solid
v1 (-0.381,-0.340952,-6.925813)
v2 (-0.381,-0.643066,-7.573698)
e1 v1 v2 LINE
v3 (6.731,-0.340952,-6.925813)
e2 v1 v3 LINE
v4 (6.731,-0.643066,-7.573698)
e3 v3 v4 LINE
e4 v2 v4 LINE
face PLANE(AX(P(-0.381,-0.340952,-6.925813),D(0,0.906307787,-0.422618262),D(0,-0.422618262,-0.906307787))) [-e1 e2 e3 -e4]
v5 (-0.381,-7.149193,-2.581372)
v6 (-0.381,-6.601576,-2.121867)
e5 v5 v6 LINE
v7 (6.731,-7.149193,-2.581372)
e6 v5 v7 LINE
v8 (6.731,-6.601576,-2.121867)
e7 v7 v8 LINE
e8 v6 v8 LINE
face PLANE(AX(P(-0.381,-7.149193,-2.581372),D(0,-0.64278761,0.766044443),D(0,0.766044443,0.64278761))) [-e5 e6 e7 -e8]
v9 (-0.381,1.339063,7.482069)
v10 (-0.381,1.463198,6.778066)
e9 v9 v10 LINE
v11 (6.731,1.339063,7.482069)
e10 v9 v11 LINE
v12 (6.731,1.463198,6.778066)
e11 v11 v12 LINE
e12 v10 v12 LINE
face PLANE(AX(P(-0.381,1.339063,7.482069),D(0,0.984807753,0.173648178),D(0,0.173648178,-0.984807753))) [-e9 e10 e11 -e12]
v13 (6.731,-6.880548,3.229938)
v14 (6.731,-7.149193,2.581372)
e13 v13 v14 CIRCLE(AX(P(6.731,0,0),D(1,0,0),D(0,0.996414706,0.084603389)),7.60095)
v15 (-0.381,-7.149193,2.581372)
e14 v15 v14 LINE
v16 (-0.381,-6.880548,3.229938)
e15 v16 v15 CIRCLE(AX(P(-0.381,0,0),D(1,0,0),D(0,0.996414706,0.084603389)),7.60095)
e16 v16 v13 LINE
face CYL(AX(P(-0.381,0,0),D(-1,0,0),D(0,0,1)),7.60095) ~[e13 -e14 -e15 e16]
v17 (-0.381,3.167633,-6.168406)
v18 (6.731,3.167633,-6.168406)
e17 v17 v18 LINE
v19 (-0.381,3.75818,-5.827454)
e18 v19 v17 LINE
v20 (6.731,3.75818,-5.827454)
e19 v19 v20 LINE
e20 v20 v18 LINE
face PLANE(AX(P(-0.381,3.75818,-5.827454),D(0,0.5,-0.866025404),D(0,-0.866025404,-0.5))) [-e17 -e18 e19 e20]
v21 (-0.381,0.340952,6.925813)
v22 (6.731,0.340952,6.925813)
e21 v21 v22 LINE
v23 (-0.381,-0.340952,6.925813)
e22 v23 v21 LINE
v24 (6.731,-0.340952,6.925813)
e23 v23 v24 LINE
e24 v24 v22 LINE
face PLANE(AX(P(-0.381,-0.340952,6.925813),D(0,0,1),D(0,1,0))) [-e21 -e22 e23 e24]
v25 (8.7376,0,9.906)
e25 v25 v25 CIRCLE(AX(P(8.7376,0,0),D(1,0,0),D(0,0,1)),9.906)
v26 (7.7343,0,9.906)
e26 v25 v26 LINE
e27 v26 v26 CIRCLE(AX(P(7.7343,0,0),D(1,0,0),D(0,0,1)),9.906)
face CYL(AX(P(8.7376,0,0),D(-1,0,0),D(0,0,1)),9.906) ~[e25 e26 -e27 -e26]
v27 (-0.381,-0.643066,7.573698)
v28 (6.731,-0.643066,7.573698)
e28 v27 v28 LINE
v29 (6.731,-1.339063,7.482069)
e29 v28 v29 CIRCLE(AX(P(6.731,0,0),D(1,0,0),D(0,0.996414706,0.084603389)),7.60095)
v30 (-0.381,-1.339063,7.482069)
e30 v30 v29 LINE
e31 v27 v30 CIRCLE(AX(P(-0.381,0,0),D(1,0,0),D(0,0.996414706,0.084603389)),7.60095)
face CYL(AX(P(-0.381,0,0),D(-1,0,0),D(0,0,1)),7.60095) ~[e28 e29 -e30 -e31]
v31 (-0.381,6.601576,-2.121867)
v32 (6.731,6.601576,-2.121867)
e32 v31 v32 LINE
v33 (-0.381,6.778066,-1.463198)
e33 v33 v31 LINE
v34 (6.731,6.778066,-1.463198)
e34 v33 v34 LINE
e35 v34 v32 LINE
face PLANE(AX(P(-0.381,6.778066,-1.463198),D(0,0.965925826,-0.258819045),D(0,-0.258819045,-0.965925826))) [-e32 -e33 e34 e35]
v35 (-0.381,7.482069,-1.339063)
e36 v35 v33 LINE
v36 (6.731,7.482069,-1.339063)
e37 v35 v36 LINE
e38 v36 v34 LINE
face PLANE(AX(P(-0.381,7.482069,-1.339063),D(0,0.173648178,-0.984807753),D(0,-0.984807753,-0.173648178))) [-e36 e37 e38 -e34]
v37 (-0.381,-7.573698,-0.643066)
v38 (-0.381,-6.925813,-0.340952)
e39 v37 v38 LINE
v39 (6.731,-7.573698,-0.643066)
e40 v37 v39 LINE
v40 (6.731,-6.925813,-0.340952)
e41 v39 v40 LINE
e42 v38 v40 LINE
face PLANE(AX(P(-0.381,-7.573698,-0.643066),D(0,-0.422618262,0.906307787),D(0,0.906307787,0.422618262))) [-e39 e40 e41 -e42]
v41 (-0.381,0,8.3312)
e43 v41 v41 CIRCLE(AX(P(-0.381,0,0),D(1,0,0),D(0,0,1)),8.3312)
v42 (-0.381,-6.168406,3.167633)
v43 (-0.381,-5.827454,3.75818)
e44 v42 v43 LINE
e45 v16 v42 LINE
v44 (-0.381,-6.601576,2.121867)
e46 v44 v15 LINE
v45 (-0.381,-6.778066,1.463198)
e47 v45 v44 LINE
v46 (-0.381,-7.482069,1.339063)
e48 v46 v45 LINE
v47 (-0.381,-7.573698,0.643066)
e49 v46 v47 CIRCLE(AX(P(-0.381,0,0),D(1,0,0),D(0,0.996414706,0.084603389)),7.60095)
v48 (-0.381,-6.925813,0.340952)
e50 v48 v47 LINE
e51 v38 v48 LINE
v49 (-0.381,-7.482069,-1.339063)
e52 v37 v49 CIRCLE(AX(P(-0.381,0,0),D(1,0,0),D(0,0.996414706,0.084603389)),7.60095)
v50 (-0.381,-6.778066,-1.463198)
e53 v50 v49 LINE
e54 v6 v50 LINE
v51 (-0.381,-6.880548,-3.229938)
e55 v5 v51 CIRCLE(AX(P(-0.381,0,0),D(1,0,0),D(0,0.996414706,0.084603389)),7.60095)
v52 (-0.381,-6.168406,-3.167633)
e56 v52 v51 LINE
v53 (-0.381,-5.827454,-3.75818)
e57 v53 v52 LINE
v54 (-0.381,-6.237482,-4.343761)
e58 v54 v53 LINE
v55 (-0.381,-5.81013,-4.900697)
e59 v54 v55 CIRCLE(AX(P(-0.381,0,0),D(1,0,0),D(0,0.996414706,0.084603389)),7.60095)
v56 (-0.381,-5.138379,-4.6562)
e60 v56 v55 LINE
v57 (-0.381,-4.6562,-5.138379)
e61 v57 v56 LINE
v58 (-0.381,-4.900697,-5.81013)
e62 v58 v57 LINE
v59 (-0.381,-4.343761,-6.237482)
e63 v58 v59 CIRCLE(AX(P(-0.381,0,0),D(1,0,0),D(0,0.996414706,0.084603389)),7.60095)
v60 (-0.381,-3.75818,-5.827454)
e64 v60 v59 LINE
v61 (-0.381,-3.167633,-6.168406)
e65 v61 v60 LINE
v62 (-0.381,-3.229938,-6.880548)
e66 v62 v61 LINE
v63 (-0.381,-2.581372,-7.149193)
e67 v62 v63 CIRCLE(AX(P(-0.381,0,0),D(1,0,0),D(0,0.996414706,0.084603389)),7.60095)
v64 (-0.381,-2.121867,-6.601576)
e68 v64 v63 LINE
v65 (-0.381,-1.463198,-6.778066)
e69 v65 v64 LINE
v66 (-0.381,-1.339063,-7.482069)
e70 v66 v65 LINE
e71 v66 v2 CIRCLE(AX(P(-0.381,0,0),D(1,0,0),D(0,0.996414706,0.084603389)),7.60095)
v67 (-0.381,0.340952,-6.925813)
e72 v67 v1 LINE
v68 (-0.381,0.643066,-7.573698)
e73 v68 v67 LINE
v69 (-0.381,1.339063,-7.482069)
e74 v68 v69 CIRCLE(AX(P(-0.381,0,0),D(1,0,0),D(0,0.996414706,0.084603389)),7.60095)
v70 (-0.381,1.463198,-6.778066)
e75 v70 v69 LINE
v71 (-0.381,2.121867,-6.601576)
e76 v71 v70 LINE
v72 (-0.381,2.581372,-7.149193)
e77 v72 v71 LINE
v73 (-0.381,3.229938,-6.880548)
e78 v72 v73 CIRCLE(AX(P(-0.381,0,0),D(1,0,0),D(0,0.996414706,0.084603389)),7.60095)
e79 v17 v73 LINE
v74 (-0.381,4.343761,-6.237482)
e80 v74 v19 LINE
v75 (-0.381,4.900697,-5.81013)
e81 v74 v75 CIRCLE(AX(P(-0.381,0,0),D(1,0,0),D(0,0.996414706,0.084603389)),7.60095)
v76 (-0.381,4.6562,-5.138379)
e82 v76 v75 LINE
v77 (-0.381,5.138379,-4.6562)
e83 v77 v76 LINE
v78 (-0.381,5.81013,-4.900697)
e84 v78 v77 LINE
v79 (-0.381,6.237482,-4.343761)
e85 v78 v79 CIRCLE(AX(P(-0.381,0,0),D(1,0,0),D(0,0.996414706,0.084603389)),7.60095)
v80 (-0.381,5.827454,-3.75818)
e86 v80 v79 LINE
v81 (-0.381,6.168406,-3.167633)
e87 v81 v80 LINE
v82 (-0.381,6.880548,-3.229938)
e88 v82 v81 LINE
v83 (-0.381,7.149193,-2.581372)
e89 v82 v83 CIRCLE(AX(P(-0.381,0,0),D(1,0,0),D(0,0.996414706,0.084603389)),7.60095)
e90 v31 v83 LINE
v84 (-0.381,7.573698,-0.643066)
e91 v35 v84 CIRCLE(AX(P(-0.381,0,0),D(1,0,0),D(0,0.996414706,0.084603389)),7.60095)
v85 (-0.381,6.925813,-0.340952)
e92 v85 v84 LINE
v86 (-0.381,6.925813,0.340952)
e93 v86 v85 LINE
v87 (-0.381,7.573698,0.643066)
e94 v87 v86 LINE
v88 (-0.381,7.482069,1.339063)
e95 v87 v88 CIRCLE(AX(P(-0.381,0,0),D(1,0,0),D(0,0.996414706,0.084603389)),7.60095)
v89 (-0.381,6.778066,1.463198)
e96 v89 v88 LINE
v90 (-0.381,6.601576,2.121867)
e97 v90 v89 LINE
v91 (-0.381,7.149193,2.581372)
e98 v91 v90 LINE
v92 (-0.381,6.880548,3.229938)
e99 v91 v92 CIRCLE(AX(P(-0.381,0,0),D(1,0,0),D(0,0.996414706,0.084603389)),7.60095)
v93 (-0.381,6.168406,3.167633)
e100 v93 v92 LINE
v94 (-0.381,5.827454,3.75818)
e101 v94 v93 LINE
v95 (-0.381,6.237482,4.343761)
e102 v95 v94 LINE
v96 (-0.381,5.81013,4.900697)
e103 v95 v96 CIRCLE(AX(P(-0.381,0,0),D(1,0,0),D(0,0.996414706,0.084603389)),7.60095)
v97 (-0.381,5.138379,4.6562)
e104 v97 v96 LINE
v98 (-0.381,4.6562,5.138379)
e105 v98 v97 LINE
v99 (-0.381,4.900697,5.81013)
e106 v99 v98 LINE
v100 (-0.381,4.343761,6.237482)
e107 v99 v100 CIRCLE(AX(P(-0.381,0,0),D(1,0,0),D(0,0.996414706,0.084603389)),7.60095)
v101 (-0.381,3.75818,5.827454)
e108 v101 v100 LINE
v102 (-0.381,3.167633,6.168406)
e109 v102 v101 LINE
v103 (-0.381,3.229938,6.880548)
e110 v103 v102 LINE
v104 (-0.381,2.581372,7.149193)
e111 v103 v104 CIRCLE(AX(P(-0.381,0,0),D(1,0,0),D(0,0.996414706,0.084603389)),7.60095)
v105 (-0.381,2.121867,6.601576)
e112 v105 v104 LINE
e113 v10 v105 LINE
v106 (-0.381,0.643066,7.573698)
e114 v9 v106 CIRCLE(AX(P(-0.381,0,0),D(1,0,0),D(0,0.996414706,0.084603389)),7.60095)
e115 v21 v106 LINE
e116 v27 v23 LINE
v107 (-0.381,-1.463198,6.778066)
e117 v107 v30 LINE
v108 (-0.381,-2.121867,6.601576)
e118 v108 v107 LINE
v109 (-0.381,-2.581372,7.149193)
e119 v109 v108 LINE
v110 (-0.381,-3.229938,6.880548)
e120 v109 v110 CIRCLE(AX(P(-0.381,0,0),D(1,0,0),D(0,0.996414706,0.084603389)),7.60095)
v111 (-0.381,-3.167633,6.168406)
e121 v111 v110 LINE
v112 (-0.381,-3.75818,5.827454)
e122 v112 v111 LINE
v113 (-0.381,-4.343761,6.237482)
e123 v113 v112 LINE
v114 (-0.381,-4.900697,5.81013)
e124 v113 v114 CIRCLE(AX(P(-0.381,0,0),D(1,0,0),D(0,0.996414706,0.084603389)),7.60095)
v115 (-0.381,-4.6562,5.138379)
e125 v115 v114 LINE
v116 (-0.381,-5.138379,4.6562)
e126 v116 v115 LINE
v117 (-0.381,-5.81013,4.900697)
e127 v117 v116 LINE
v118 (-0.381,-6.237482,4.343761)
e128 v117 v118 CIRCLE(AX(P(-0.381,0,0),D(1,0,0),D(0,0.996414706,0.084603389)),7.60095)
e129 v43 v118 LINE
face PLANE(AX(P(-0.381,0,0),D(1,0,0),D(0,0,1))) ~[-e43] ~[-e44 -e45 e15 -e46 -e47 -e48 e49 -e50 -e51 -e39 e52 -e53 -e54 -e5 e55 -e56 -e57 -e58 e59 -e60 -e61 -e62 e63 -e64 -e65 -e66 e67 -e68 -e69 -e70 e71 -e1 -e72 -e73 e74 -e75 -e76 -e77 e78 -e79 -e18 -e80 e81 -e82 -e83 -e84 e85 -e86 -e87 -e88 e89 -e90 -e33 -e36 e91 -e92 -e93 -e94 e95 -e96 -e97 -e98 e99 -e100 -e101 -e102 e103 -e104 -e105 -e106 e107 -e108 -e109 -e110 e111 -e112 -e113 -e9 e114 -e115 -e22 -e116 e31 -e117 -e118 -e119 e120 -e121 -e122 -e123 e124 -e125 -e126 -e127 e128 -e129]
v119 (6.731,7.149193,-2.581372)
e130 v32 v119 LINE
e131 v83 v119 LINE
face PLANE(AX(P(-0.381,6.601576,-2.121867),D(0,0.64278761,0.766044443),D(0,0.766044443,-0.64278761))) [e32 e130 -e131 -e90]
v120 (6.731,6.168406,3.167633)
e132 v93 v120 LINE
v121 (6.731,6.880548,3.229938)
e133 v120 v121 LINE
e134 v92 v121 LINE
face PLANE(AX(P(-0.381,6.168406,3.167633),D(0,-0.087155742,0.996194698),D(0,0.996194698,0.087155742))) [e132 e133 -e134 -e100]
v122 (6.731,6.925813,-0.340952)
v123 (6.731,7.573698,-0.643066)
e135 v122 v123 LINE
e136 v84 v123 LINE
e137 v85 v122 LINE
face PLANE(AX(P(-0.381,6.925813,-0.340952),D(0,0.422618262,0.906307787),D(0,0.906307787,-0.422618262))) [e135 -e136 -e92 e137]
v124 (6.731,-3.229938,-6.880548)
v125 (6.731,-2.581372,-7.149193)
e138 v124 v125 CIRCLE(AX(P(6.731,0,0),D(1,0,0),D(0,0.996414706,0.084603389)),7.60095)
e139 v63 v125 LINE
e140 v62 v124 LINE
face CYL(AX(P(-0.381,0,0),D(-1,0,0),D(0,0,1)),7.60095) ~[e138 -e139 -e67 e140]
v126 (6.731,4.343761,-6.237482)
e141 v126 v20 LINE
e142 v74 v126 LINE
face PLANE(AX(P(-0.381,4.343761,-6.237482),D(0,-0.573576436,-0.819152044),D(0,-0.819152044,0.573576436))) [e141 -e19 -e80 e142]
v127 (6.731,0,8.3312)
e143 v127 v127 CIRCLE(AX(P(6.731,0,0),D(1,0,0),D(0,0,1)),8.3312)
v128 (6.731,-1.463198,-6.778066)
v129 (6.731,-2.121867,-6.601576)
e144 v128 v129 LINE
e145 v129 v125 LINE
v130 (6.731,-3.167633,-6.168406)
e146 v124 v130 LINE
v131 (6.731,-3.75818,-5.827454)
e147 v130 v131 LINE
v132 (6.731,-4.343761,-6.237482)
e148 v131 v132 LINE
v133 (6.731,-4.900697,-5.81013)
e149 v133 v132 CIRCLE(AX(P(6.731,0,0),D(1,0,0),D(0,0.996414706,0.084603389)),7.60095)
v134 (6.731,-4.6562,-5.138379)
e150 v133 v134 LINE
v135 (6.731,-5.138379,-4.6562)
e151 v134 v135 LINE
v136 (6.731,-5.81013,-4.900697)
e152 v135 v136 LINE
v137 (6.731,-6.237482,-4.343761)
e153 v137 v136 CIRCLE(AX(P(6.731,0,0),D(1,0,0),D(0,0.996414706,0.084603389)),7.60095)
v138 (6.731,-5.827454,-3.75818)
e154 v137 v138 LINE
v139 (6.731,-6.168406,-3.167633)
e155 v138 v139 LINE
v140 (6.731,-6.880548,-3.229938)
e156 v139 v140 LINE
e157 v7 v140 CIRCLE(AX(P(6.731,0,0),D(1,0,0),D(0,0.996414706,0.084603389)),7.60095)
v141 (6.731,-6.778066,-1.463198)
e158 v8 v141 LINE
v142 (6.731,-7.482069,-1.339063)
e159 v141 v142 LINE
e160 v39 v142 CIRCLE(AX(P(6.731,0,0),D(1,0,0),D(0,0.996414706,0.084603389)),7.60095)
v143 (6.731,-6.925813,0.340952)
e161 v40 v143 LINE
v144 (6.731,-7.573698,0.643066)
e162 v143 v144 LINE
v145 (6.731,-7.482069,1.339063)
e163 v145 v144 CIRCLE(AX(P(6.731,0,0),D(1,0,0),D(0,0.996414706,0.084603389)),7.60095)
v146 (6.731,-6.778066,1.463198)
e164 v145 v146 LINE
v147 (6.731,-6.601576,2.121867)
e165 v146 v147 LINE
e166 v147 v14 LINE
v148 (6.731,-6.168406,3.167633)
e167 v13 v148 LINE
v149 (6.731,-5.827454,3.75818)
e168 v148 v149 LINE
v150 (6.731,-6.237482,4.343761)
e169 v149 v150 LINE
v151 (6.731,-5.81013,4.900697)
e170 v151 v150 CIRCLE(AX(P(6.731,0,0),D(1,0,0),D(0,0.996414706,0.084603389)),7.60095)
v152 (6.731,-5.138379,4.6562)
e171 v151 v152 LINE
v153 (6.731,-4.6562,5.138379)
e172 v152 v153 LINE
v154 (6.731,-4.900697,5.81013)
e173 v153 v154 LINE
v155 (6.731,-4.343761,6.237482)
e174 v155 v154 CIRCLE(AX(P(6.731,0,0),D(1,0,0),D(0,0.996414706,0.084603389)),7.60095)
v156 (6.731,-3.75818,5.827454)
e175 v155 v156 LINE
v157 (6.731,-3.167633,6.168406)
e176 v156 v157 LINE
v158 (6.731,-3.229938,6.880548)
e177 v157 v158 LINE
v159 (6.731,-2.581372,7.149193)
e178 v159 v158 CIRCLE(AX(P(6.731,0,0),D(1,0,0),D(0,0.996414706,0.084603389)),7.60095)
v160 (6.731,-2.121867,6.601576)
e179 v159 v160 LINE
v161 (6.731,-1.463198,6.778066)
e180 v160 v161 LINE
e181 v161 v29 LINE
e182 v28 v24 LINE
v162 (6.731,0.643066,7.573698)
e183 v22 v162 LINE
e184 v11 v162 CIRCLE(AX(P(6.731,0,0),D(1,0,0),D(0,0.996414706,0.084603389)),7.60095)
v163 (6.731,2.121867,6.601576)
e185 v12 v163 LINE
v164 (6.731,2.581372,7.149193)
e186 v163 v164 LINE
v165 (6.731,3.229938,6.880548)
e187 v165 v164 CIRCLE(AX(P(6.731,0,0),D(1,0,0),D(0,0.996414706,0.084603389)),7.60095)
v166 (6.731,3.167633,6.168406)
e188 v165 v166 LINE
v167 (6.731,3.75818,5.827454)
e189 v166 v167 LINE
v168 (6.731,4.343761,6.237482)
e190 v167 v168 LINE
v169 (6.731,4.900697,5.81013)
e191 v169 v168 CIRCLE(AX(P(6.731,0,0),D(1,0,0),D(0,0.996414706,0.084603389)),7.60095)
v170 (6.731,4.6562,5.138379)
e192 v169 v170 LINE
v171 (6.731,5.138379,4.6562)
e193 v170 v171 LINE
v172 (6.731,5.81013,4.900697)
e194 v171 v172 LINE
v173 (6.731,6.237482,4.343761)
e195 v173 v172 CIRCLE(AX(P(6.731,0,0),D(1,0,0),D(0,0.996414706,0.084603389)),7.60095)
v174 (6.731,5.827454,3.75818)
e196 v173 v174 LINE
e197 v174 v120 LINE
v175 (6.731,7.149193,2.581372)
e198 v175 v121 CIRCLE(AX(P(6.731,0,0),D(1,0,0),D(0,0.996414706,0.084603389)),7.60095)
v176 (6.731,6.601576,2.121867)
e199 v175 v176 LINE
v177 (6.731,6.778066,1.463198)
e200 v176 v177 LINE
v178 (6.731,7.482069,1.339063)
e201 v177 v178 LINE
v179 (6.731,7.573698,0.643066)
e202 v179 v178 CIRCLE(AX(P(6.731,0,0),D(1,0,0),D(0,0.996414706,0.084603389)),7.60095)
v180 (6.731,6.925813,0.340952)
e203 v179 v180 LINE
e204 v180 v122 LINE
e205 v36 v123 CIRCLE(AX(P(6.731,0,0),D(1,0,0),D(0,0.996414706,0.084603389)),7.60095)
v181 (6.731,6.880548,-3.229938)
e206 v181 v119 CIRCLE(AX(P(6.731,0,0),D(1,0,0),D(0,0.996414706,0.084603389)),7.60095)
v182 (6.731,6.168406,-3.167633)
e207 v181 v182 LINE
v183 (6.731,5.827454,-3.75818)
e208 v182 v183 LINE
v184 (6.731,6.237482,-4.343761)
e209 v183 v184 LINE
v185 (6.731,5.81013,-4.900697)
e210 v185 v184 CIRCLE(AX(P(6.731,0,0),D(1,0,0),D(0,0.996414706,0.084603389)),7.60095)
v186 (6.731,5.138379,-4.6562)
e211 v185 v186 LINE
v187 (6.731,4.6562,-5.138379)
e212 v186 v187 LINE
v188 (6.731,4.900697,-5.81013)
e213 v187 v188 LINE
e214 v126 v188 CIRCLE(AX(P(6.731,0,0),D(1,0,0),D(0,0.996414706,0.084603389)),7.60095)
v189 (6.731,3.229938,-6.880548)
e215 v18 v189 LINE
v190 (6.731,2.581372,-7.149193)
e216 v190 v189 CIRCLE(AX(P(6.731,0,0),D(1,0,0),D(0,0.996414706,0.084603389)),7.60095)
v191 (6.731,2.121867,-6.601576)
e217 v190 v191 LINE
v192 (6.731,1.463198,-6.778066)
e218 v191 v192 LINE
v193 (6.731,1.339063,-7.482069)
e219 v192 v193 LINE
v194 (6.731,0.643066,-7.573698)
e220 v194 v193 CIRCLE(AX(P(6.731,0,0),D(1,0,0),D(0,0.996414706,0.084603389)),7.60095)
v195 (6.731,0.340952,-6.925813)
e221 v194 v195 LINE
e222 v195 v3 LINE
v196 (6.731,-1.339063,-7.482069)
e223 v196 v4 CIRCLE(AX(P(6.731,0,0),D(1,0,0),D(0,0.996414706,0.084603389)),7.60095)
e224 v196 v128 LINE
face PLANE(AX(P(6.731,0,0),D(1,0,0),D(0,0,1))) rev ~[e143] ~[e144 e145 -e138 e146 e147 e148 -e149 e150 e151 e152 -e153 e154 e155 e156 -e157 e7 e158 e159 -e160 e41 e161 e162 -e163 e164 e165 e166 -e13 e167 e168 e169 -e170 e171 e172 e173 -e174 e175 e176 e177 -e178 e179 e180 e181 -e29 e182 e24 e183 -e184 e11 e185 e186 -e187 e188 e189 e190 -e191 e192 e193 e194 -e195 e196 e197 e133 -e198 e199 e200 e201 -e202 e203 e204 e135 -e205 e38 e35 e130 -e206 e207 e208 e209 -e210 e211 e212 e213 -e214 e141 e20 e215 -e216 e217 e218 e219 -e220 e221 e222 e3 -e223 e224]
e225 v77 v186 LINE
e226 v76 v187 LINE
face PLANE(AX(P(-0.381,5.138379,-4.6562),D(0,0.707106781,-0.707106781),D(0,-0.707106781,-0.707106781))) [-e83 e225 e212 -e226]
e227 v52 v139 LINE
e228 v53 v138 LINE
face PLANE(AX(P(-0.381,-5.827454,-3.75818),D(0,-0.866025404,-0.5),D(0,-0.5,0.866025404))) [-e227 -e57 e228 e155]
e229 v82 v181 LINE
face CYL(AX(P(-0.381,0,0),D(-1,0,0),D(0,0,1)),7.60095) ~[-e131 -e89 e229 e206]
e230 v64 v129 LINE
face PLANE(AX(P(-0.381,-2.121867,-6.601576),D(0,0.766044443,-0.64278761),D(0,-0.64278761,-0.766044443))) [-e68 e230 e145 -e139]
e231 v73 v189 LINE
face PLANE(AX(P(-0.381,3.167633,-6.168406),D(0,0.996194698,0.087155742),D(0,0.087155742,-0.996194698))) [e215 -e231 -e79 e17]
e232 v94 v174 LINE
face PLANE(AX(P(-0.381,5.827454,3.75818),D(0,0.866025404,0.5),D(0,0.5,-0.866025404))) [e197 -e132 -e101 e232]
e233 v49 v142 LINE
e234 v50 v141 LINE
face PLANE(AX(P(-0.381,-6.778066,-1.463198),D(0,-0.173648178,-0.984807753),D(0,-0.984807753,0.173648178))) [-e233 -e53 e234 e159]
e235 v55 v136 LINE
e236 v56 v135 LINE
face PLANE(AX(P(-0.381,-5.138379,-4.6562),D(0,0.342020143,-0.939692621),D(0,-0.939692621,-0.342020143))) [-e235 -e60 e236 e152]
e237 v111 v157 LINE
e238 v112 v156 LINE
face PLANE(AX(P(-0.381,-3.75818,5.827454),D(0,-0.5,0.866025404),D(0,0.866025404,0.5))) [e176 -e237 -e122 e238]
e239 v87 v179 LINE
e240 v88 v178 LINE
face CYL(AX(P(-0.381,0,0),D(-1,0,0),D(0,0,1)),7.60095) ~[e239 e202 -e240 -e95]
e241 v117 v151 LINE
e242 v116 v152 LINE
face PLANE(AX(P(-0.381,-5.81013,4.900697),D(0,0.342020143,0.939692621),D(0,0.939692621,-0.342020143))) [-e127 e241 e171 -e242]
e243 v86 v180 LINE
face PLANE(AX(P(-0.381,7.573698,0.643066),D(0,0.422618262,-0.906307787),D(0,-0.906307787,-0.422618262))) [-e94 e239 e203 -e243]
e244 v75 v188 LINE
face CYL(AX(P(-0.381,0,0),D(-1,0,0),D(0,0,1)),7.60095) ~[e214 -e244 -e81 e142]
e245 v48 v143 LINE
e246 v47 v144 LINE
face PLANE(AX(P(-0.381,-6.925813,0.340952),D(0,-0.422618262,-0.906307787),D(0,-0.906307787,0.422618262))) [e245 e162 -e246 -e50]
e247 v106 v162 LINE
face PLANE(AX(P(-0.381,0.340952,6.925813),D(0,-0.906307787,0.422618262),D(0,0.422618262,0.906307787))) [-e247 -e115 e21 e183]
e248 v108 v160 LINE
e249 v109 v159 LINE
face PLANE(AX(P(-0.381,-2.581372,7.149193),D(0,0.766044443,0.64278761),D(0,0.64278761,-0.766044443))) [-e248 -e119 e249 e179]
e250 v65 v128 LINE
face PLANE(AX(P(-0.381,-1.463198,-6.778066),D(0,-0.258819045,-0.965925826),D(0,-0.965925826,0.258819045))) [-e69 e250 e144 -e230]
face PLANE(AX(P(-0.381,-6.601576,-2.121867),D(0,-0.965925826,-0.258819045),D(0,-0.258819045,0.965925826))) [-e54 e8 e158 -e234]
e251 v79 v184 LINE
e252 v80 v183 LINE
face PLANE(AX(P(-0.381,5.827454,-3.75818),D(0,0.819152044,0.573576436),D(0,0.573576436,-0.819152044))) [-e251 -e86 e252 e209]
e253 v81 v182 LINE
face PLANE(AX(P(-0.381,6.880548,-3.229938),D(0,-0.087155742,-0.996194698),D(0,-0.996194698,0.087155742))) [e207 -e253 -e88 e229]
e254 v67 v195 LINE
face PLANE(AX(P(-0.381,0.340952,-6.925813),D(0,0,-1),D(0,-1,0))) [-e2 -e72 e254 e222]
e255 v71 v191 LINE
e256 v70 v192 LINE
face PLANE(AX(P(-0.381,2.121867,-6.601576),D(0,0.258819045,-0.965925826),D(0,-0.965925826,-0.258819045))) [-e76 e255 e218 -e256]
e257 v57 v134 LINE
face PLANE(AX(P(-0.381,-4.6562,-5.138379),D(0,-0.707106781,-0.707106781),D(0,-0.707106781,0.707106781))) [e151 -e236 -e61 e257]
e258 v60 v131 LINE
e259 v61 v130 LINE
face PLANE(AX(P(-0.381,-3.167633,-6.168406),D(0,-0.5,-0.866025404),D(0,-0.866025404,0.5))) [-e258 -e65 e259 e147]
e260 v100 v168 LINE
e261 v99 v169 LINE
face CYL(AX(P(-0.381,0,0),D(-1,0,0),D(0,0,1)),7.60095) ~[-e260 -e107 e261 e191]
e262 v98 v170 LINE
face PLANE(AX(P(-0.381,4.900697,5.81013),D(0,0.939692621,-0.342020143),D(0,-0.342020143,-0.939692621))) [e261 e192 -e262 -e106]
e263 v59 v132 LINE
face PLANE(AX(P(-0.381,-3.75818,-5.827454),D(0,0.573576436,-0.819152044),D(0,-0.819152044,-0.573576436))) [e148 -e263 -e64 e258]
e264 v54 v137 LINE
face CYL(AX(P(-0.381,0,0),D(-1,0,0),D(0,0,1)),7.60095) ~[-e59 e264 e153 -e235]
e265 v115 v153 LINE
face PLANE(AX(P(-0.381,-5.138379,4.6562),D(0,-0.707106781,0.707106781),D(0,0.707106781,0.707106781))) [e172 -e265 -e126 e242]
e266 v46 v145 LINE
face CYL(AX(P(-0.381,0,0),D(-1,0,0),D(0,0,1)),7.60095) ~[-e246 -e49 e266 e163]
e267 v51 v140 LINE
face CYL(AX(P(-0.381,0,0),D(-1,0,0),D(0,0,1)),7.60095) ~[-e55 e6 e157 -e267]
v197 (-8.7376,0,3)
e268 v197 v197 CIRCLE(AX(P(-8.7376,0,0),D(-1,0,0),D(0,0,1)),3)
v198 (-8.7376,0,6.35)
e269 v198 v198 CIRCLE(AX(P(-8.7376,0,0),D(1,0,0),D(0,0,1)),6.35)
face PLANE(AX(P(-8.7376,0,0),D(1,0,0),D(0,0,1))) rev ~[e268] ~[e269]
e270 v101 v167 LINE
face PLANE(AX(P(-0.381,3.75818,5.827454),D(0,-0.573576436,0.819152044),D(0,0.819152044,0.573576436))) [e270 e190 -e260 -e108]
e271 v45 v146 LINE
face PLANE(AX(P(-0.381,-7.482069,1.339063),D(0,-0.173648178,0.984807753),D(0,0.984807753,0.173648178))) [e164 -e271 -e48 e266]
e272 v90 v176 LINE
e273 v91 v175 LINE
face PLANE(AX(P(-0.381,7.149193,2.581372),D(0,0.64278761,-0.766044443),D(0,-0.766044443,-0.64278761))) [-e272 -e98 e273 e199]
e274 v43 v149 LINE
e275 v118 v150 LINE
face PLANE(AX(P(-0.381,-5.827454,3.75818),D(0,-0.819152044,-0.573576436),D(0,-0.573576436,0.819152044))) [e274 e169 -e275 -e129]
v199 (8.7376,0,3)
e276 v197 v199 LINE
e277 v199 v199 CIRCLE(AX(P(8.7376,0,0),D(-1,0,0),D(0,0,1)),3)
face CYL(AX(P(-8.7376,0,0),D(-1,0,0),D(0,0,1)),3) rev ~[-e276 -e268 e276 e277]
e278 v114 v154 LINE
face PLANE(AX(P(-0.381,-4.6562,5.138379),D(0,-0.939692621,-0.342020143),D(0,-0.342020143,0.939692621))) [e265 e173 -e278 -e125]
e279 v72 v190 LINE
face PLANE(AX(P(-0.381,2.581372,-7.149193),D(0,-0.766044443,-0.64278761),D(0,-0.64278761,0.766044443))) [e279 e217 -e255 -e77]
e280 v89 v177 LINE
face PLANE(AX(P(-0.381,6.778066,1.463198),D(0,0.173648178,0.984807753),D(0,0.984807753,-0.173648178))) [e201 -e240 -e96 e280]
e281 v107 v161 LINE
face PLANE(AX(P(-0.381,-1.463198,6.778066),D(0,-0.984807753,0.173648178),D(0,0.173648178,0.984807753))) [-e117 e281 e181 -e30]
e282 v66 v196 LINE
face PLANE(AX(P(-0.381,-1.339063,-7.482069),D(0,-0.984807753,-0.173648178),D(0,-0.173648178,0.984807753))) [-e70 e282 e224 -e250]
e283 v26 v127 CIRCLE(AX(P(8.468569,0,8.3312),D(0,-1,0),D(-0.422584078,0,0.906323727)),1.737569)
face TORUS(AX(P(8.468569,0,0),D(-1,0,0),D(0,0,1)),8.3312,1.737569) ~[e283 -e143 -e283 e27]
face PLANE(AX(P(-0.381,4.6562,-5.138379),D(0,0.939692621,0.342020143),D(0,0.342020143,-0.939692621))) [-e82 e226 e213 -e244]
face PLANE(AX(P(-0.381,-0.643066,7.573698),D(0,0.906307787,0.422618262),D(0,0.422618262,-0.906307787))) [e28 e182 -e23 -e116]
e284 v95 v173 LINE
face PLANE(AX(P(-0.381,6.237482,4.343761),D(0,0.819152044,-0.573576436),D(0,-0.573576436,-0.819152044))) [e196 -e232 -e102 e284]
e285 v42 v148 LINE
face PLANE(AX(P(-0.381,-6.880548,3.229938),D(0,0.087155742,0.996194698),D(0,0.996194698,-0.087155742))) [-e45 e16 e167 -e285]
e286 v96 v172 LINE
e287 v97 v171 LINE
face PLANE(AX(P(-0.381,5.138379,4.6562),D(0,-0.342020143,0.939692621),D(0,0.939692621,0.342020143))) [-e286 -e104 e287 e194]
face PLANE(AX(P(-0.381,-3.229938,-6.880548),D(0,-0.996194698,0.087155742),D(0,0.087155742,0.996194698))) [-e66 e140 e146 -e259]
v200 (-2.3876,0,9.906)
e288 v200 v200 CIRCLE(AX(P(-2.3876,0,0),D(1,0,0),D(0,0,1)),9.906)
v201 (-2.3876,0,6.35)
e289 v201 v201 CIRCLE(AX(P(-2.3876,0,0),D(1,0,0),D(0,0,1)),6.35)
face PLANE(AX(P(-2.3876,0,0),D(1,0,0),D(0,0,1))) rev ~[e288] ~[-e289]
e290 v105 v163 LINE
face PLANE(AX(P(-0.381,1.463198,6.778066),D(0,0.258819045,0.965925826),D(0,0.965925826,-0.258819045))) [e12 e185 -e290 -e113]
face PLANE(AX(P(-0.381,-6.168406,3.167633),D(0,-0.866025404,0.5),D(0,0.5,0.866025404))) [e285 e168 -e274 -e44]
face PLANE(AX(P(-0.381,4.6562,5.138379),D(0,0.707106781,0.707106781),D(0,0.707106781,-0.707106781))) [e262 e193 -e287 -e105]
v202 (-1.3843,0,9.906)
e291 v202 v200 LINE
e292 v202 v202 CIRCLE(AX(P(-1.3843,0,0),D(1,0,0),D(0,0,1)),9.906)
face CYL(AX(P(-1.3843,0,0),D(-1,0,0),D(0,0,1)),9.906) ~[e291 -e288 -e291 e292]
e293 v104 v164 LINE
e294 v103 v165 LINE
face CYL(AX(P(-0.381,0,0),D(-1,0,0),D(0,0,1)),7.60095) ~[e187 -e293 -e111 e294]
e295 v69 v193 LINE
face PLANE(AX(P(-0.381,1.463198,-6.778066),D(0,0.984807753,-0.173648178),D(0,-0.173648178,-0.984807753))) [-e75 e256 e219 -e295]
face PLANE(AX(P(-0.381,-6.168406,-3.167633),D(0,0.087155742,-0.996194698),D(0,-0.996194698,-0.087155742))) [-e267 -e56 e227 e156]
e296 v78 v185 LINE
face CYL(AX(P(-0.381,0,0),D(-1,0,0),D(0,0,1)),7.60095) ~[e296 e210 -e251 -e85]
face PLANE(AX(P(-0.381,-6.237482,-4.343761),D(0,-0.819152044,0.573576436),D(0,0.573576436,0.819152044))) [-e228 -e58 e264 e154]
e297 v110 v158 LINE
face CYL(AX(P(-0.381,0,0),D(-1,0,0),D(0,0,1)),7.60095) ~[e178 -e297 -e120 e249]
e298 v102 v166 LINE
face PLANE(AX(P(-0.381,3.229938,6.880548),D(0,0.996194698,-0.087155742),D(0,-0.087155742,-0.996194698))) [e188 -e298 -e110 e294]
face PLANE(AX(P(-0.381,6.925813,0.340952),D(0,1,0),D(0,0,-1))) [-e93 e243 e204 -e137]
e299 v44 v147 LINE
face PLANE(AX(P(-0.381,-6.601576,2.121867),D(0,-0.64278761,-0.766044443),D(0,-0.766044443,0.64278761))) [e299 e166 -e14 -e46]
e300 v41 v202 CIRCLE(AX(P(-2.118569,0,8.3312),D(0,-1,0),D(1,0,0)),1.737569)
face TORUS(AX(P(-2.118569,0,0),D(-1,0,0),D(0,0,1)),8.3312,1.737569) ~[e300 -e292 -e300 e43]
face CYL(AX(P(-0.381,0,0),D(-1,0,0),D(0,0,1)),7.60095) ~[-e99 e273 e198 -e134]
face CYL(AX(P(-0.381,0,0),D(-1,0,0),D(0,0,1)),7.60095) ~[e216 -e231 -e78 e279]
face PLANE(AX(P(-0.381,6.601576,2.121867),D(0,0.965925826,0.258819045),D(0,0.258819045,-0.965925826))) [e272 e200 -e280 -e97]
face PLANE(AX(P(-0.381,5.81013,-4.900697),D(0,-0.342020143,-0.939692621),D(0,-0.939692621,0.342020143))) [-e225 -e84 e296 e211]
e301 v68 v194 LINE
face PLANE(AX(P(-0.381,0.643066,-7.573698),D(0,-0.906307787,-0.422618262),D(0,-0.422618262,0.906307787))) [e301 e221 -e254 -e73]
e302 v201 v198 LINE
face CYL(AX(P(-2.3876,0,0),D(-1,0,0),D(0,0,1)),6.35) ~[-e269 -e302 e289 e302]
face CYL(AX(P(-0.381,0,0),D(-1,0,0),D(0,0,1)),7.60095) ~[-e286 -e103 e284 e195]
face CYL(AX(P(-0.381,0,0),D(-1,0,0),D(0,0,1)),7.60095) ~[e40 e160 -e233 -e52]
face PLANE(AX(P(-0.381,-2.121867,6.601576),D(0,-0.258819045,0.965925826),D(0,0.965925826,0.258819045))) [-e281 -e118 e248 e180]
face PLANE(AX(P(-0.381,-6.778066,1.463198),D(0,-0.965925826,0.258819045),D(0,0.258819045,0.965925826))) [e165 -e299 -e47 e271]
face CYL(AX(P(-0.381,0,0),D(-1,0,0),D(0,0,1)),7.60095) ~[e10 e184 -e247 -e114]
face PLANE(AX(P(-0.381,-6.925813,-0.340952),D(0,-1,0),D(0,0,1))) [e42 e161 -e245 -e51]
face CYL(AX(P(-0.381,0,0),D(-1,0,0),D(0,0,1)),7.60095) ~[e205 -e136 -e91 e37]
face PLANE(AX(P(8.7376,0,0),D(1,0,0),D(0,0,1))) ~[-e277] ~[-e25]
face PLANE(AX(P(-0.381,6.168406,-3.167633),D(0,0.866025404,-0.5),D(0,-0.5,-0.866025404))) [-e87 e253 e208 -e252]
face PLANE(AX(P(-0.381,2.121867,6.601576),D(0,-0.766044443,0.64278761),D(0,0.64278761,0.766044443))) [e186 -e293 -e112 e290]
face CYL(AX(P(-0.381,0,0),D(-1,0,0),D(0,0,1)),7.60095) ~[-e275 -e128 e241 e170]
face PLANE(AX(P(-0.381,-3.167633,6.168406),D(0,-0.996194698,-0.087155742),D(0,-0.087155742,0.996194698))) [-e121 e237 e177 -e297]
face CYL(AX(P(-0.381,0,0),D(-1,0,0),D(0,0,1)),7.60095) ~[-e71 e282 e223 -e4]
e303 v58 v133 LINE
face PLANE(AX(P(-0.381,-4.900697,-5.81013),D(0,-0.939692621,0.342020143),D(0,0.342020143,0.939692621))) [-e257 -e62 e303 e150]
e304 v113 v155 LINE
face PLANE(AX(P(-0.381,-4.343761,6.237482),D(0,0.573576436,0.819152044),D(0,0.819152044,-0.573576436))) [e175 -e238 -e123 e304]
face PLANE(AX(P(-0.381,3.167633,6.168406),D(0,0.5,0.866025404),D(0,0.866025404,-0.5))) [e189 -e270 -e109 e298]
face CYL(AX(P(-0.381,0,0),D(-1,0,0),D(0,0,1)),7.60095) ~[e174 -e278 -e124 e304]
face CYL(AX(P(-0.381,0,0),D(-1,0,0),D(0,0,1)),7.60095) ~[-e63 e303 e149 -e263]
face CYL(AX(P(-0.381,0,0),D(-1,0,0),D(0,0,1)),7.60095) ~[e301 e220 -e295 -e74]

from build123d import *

# Parameters (mm, degrees)
SKETCH4_R          = 7.7597
SKETCH4_R_2        = 7.60095
CUT_EXTRUDE2_DEPTH = 7.112
CUT_EXTRUDE1_DEPTH = 7.112
CIRPATTERN1_COUNT  = 24
SKETCH6_R          = 3
CUT_EXTRUDE3_DEPTH = 23.397327676


with BuildPart() as part:
    # Sketch1 → Revolve1 (revolve)
    with BuildSketch(Plane.XY, mode=Mode.PRIVATE) as revolve1_sk:
        with BuildLine():
            Line((-8.7376, 2.38125), (8.7376, 2.38125))
            Line((8.7376, 2.38125), (8.7376, 9.906))
            Line((8.7376, 9.906), (7.7343, 9.906))
            ThreePointArc((7.7343, 9.906), (7.003135774, 9.264822773), (6.731, 8.3312))
            Line((6.731, 8.3312), (6.731, 7.7597))
            Line((6.731, 7.7597), (-0.381, 7.7597))
            Line((-0.381, 7.7597), (-0.381, 8.3312))
            ThreePointArc((-0.381, 8.3312), (-0.653135774, 9.264822773), (-1.3843, 9.906))
            Line((-1.3843, 9.906), (-2.3876, 9.906))
            Line((-2.3876, 9.906), (-2.3876, 6.35))
            Line((-2.3876, 6.35), (-8.7376, 6.35))
            Line((-8.7376, 6.35), (-8.7376, 2.38125))
        make_face()
    revolve(revolve1_sk.sketch.rotate(Axis((-8.7376, 0, 0), (1, 0, 0)), 90), axis=Axis((-8.7376, 0, 0), (1, 0, 0)))

    # Sketch4 → Cut-Extrude2 (cut)
    with BuildSketch(Plane(origin=(-0.381, 0, 0), x_dir=(0, 0, -1), z_dir=(1, 0, 0))):
        Circle(SKETCH4_R)
        with Locations(Location((0, 0, 0), (0, 0, 180))):
            Circle(SKETCH4_R_2, mode=Mode.SUBTRACT)
    extrude(amount=CUT_EXTRUDE2_DEPTH, mode=Mode.SUBTRACT)

    # Sketch3 → Cut-Extrude1 (cut)
    with BuildSketch(Plane(origin=(-0.381, 0, 0), x_dir=(0, 0, -1), z_dir=(1, 0, 0))):
        with BuildLine():
            Line((-0.643066132, 7.57369836), (-0.340952079, 6.925812683))
            Line((-0.340952079, 6.925812683), (0.340952079, 6.925812683))
            Line((0.340952079, 6.925812683), (0.643066132, 7.57369836))
            ThreePointArc((0.643066132, 7.57369836), (0, 7.60095), (-0.643066132, 7.57369836))
        make_face()
    cut_extrude1 = extrude(amount=CUT_EXTRUDE1_DEPTH, mode=Mode.SUBTRACT)

    # CirPattern1: Cut-Extrude1 ×24 about axis
    cirpattern1_axis = Axis((0, 0, 0), (1, 0, 0))
    for i in range(1, CIRPATTERN1_COUNT):
        add(cut_extrude1.rotate(cirpattern1_axis, i * 360 / CIRPATTERN1_COUNT), mode=Mode.SUBTRACT)

    # Sketch6 → Cut-Extrude3 (cut, through all)
    with BuildSketch(Plane.ZY.offset(8.7376)):
        Circle(SKETCH6_R)
    extrude(amount=-CUT_EXTRUDE3_DEPTH, mode=Mode.SUBTRACT)


solid = part.part
